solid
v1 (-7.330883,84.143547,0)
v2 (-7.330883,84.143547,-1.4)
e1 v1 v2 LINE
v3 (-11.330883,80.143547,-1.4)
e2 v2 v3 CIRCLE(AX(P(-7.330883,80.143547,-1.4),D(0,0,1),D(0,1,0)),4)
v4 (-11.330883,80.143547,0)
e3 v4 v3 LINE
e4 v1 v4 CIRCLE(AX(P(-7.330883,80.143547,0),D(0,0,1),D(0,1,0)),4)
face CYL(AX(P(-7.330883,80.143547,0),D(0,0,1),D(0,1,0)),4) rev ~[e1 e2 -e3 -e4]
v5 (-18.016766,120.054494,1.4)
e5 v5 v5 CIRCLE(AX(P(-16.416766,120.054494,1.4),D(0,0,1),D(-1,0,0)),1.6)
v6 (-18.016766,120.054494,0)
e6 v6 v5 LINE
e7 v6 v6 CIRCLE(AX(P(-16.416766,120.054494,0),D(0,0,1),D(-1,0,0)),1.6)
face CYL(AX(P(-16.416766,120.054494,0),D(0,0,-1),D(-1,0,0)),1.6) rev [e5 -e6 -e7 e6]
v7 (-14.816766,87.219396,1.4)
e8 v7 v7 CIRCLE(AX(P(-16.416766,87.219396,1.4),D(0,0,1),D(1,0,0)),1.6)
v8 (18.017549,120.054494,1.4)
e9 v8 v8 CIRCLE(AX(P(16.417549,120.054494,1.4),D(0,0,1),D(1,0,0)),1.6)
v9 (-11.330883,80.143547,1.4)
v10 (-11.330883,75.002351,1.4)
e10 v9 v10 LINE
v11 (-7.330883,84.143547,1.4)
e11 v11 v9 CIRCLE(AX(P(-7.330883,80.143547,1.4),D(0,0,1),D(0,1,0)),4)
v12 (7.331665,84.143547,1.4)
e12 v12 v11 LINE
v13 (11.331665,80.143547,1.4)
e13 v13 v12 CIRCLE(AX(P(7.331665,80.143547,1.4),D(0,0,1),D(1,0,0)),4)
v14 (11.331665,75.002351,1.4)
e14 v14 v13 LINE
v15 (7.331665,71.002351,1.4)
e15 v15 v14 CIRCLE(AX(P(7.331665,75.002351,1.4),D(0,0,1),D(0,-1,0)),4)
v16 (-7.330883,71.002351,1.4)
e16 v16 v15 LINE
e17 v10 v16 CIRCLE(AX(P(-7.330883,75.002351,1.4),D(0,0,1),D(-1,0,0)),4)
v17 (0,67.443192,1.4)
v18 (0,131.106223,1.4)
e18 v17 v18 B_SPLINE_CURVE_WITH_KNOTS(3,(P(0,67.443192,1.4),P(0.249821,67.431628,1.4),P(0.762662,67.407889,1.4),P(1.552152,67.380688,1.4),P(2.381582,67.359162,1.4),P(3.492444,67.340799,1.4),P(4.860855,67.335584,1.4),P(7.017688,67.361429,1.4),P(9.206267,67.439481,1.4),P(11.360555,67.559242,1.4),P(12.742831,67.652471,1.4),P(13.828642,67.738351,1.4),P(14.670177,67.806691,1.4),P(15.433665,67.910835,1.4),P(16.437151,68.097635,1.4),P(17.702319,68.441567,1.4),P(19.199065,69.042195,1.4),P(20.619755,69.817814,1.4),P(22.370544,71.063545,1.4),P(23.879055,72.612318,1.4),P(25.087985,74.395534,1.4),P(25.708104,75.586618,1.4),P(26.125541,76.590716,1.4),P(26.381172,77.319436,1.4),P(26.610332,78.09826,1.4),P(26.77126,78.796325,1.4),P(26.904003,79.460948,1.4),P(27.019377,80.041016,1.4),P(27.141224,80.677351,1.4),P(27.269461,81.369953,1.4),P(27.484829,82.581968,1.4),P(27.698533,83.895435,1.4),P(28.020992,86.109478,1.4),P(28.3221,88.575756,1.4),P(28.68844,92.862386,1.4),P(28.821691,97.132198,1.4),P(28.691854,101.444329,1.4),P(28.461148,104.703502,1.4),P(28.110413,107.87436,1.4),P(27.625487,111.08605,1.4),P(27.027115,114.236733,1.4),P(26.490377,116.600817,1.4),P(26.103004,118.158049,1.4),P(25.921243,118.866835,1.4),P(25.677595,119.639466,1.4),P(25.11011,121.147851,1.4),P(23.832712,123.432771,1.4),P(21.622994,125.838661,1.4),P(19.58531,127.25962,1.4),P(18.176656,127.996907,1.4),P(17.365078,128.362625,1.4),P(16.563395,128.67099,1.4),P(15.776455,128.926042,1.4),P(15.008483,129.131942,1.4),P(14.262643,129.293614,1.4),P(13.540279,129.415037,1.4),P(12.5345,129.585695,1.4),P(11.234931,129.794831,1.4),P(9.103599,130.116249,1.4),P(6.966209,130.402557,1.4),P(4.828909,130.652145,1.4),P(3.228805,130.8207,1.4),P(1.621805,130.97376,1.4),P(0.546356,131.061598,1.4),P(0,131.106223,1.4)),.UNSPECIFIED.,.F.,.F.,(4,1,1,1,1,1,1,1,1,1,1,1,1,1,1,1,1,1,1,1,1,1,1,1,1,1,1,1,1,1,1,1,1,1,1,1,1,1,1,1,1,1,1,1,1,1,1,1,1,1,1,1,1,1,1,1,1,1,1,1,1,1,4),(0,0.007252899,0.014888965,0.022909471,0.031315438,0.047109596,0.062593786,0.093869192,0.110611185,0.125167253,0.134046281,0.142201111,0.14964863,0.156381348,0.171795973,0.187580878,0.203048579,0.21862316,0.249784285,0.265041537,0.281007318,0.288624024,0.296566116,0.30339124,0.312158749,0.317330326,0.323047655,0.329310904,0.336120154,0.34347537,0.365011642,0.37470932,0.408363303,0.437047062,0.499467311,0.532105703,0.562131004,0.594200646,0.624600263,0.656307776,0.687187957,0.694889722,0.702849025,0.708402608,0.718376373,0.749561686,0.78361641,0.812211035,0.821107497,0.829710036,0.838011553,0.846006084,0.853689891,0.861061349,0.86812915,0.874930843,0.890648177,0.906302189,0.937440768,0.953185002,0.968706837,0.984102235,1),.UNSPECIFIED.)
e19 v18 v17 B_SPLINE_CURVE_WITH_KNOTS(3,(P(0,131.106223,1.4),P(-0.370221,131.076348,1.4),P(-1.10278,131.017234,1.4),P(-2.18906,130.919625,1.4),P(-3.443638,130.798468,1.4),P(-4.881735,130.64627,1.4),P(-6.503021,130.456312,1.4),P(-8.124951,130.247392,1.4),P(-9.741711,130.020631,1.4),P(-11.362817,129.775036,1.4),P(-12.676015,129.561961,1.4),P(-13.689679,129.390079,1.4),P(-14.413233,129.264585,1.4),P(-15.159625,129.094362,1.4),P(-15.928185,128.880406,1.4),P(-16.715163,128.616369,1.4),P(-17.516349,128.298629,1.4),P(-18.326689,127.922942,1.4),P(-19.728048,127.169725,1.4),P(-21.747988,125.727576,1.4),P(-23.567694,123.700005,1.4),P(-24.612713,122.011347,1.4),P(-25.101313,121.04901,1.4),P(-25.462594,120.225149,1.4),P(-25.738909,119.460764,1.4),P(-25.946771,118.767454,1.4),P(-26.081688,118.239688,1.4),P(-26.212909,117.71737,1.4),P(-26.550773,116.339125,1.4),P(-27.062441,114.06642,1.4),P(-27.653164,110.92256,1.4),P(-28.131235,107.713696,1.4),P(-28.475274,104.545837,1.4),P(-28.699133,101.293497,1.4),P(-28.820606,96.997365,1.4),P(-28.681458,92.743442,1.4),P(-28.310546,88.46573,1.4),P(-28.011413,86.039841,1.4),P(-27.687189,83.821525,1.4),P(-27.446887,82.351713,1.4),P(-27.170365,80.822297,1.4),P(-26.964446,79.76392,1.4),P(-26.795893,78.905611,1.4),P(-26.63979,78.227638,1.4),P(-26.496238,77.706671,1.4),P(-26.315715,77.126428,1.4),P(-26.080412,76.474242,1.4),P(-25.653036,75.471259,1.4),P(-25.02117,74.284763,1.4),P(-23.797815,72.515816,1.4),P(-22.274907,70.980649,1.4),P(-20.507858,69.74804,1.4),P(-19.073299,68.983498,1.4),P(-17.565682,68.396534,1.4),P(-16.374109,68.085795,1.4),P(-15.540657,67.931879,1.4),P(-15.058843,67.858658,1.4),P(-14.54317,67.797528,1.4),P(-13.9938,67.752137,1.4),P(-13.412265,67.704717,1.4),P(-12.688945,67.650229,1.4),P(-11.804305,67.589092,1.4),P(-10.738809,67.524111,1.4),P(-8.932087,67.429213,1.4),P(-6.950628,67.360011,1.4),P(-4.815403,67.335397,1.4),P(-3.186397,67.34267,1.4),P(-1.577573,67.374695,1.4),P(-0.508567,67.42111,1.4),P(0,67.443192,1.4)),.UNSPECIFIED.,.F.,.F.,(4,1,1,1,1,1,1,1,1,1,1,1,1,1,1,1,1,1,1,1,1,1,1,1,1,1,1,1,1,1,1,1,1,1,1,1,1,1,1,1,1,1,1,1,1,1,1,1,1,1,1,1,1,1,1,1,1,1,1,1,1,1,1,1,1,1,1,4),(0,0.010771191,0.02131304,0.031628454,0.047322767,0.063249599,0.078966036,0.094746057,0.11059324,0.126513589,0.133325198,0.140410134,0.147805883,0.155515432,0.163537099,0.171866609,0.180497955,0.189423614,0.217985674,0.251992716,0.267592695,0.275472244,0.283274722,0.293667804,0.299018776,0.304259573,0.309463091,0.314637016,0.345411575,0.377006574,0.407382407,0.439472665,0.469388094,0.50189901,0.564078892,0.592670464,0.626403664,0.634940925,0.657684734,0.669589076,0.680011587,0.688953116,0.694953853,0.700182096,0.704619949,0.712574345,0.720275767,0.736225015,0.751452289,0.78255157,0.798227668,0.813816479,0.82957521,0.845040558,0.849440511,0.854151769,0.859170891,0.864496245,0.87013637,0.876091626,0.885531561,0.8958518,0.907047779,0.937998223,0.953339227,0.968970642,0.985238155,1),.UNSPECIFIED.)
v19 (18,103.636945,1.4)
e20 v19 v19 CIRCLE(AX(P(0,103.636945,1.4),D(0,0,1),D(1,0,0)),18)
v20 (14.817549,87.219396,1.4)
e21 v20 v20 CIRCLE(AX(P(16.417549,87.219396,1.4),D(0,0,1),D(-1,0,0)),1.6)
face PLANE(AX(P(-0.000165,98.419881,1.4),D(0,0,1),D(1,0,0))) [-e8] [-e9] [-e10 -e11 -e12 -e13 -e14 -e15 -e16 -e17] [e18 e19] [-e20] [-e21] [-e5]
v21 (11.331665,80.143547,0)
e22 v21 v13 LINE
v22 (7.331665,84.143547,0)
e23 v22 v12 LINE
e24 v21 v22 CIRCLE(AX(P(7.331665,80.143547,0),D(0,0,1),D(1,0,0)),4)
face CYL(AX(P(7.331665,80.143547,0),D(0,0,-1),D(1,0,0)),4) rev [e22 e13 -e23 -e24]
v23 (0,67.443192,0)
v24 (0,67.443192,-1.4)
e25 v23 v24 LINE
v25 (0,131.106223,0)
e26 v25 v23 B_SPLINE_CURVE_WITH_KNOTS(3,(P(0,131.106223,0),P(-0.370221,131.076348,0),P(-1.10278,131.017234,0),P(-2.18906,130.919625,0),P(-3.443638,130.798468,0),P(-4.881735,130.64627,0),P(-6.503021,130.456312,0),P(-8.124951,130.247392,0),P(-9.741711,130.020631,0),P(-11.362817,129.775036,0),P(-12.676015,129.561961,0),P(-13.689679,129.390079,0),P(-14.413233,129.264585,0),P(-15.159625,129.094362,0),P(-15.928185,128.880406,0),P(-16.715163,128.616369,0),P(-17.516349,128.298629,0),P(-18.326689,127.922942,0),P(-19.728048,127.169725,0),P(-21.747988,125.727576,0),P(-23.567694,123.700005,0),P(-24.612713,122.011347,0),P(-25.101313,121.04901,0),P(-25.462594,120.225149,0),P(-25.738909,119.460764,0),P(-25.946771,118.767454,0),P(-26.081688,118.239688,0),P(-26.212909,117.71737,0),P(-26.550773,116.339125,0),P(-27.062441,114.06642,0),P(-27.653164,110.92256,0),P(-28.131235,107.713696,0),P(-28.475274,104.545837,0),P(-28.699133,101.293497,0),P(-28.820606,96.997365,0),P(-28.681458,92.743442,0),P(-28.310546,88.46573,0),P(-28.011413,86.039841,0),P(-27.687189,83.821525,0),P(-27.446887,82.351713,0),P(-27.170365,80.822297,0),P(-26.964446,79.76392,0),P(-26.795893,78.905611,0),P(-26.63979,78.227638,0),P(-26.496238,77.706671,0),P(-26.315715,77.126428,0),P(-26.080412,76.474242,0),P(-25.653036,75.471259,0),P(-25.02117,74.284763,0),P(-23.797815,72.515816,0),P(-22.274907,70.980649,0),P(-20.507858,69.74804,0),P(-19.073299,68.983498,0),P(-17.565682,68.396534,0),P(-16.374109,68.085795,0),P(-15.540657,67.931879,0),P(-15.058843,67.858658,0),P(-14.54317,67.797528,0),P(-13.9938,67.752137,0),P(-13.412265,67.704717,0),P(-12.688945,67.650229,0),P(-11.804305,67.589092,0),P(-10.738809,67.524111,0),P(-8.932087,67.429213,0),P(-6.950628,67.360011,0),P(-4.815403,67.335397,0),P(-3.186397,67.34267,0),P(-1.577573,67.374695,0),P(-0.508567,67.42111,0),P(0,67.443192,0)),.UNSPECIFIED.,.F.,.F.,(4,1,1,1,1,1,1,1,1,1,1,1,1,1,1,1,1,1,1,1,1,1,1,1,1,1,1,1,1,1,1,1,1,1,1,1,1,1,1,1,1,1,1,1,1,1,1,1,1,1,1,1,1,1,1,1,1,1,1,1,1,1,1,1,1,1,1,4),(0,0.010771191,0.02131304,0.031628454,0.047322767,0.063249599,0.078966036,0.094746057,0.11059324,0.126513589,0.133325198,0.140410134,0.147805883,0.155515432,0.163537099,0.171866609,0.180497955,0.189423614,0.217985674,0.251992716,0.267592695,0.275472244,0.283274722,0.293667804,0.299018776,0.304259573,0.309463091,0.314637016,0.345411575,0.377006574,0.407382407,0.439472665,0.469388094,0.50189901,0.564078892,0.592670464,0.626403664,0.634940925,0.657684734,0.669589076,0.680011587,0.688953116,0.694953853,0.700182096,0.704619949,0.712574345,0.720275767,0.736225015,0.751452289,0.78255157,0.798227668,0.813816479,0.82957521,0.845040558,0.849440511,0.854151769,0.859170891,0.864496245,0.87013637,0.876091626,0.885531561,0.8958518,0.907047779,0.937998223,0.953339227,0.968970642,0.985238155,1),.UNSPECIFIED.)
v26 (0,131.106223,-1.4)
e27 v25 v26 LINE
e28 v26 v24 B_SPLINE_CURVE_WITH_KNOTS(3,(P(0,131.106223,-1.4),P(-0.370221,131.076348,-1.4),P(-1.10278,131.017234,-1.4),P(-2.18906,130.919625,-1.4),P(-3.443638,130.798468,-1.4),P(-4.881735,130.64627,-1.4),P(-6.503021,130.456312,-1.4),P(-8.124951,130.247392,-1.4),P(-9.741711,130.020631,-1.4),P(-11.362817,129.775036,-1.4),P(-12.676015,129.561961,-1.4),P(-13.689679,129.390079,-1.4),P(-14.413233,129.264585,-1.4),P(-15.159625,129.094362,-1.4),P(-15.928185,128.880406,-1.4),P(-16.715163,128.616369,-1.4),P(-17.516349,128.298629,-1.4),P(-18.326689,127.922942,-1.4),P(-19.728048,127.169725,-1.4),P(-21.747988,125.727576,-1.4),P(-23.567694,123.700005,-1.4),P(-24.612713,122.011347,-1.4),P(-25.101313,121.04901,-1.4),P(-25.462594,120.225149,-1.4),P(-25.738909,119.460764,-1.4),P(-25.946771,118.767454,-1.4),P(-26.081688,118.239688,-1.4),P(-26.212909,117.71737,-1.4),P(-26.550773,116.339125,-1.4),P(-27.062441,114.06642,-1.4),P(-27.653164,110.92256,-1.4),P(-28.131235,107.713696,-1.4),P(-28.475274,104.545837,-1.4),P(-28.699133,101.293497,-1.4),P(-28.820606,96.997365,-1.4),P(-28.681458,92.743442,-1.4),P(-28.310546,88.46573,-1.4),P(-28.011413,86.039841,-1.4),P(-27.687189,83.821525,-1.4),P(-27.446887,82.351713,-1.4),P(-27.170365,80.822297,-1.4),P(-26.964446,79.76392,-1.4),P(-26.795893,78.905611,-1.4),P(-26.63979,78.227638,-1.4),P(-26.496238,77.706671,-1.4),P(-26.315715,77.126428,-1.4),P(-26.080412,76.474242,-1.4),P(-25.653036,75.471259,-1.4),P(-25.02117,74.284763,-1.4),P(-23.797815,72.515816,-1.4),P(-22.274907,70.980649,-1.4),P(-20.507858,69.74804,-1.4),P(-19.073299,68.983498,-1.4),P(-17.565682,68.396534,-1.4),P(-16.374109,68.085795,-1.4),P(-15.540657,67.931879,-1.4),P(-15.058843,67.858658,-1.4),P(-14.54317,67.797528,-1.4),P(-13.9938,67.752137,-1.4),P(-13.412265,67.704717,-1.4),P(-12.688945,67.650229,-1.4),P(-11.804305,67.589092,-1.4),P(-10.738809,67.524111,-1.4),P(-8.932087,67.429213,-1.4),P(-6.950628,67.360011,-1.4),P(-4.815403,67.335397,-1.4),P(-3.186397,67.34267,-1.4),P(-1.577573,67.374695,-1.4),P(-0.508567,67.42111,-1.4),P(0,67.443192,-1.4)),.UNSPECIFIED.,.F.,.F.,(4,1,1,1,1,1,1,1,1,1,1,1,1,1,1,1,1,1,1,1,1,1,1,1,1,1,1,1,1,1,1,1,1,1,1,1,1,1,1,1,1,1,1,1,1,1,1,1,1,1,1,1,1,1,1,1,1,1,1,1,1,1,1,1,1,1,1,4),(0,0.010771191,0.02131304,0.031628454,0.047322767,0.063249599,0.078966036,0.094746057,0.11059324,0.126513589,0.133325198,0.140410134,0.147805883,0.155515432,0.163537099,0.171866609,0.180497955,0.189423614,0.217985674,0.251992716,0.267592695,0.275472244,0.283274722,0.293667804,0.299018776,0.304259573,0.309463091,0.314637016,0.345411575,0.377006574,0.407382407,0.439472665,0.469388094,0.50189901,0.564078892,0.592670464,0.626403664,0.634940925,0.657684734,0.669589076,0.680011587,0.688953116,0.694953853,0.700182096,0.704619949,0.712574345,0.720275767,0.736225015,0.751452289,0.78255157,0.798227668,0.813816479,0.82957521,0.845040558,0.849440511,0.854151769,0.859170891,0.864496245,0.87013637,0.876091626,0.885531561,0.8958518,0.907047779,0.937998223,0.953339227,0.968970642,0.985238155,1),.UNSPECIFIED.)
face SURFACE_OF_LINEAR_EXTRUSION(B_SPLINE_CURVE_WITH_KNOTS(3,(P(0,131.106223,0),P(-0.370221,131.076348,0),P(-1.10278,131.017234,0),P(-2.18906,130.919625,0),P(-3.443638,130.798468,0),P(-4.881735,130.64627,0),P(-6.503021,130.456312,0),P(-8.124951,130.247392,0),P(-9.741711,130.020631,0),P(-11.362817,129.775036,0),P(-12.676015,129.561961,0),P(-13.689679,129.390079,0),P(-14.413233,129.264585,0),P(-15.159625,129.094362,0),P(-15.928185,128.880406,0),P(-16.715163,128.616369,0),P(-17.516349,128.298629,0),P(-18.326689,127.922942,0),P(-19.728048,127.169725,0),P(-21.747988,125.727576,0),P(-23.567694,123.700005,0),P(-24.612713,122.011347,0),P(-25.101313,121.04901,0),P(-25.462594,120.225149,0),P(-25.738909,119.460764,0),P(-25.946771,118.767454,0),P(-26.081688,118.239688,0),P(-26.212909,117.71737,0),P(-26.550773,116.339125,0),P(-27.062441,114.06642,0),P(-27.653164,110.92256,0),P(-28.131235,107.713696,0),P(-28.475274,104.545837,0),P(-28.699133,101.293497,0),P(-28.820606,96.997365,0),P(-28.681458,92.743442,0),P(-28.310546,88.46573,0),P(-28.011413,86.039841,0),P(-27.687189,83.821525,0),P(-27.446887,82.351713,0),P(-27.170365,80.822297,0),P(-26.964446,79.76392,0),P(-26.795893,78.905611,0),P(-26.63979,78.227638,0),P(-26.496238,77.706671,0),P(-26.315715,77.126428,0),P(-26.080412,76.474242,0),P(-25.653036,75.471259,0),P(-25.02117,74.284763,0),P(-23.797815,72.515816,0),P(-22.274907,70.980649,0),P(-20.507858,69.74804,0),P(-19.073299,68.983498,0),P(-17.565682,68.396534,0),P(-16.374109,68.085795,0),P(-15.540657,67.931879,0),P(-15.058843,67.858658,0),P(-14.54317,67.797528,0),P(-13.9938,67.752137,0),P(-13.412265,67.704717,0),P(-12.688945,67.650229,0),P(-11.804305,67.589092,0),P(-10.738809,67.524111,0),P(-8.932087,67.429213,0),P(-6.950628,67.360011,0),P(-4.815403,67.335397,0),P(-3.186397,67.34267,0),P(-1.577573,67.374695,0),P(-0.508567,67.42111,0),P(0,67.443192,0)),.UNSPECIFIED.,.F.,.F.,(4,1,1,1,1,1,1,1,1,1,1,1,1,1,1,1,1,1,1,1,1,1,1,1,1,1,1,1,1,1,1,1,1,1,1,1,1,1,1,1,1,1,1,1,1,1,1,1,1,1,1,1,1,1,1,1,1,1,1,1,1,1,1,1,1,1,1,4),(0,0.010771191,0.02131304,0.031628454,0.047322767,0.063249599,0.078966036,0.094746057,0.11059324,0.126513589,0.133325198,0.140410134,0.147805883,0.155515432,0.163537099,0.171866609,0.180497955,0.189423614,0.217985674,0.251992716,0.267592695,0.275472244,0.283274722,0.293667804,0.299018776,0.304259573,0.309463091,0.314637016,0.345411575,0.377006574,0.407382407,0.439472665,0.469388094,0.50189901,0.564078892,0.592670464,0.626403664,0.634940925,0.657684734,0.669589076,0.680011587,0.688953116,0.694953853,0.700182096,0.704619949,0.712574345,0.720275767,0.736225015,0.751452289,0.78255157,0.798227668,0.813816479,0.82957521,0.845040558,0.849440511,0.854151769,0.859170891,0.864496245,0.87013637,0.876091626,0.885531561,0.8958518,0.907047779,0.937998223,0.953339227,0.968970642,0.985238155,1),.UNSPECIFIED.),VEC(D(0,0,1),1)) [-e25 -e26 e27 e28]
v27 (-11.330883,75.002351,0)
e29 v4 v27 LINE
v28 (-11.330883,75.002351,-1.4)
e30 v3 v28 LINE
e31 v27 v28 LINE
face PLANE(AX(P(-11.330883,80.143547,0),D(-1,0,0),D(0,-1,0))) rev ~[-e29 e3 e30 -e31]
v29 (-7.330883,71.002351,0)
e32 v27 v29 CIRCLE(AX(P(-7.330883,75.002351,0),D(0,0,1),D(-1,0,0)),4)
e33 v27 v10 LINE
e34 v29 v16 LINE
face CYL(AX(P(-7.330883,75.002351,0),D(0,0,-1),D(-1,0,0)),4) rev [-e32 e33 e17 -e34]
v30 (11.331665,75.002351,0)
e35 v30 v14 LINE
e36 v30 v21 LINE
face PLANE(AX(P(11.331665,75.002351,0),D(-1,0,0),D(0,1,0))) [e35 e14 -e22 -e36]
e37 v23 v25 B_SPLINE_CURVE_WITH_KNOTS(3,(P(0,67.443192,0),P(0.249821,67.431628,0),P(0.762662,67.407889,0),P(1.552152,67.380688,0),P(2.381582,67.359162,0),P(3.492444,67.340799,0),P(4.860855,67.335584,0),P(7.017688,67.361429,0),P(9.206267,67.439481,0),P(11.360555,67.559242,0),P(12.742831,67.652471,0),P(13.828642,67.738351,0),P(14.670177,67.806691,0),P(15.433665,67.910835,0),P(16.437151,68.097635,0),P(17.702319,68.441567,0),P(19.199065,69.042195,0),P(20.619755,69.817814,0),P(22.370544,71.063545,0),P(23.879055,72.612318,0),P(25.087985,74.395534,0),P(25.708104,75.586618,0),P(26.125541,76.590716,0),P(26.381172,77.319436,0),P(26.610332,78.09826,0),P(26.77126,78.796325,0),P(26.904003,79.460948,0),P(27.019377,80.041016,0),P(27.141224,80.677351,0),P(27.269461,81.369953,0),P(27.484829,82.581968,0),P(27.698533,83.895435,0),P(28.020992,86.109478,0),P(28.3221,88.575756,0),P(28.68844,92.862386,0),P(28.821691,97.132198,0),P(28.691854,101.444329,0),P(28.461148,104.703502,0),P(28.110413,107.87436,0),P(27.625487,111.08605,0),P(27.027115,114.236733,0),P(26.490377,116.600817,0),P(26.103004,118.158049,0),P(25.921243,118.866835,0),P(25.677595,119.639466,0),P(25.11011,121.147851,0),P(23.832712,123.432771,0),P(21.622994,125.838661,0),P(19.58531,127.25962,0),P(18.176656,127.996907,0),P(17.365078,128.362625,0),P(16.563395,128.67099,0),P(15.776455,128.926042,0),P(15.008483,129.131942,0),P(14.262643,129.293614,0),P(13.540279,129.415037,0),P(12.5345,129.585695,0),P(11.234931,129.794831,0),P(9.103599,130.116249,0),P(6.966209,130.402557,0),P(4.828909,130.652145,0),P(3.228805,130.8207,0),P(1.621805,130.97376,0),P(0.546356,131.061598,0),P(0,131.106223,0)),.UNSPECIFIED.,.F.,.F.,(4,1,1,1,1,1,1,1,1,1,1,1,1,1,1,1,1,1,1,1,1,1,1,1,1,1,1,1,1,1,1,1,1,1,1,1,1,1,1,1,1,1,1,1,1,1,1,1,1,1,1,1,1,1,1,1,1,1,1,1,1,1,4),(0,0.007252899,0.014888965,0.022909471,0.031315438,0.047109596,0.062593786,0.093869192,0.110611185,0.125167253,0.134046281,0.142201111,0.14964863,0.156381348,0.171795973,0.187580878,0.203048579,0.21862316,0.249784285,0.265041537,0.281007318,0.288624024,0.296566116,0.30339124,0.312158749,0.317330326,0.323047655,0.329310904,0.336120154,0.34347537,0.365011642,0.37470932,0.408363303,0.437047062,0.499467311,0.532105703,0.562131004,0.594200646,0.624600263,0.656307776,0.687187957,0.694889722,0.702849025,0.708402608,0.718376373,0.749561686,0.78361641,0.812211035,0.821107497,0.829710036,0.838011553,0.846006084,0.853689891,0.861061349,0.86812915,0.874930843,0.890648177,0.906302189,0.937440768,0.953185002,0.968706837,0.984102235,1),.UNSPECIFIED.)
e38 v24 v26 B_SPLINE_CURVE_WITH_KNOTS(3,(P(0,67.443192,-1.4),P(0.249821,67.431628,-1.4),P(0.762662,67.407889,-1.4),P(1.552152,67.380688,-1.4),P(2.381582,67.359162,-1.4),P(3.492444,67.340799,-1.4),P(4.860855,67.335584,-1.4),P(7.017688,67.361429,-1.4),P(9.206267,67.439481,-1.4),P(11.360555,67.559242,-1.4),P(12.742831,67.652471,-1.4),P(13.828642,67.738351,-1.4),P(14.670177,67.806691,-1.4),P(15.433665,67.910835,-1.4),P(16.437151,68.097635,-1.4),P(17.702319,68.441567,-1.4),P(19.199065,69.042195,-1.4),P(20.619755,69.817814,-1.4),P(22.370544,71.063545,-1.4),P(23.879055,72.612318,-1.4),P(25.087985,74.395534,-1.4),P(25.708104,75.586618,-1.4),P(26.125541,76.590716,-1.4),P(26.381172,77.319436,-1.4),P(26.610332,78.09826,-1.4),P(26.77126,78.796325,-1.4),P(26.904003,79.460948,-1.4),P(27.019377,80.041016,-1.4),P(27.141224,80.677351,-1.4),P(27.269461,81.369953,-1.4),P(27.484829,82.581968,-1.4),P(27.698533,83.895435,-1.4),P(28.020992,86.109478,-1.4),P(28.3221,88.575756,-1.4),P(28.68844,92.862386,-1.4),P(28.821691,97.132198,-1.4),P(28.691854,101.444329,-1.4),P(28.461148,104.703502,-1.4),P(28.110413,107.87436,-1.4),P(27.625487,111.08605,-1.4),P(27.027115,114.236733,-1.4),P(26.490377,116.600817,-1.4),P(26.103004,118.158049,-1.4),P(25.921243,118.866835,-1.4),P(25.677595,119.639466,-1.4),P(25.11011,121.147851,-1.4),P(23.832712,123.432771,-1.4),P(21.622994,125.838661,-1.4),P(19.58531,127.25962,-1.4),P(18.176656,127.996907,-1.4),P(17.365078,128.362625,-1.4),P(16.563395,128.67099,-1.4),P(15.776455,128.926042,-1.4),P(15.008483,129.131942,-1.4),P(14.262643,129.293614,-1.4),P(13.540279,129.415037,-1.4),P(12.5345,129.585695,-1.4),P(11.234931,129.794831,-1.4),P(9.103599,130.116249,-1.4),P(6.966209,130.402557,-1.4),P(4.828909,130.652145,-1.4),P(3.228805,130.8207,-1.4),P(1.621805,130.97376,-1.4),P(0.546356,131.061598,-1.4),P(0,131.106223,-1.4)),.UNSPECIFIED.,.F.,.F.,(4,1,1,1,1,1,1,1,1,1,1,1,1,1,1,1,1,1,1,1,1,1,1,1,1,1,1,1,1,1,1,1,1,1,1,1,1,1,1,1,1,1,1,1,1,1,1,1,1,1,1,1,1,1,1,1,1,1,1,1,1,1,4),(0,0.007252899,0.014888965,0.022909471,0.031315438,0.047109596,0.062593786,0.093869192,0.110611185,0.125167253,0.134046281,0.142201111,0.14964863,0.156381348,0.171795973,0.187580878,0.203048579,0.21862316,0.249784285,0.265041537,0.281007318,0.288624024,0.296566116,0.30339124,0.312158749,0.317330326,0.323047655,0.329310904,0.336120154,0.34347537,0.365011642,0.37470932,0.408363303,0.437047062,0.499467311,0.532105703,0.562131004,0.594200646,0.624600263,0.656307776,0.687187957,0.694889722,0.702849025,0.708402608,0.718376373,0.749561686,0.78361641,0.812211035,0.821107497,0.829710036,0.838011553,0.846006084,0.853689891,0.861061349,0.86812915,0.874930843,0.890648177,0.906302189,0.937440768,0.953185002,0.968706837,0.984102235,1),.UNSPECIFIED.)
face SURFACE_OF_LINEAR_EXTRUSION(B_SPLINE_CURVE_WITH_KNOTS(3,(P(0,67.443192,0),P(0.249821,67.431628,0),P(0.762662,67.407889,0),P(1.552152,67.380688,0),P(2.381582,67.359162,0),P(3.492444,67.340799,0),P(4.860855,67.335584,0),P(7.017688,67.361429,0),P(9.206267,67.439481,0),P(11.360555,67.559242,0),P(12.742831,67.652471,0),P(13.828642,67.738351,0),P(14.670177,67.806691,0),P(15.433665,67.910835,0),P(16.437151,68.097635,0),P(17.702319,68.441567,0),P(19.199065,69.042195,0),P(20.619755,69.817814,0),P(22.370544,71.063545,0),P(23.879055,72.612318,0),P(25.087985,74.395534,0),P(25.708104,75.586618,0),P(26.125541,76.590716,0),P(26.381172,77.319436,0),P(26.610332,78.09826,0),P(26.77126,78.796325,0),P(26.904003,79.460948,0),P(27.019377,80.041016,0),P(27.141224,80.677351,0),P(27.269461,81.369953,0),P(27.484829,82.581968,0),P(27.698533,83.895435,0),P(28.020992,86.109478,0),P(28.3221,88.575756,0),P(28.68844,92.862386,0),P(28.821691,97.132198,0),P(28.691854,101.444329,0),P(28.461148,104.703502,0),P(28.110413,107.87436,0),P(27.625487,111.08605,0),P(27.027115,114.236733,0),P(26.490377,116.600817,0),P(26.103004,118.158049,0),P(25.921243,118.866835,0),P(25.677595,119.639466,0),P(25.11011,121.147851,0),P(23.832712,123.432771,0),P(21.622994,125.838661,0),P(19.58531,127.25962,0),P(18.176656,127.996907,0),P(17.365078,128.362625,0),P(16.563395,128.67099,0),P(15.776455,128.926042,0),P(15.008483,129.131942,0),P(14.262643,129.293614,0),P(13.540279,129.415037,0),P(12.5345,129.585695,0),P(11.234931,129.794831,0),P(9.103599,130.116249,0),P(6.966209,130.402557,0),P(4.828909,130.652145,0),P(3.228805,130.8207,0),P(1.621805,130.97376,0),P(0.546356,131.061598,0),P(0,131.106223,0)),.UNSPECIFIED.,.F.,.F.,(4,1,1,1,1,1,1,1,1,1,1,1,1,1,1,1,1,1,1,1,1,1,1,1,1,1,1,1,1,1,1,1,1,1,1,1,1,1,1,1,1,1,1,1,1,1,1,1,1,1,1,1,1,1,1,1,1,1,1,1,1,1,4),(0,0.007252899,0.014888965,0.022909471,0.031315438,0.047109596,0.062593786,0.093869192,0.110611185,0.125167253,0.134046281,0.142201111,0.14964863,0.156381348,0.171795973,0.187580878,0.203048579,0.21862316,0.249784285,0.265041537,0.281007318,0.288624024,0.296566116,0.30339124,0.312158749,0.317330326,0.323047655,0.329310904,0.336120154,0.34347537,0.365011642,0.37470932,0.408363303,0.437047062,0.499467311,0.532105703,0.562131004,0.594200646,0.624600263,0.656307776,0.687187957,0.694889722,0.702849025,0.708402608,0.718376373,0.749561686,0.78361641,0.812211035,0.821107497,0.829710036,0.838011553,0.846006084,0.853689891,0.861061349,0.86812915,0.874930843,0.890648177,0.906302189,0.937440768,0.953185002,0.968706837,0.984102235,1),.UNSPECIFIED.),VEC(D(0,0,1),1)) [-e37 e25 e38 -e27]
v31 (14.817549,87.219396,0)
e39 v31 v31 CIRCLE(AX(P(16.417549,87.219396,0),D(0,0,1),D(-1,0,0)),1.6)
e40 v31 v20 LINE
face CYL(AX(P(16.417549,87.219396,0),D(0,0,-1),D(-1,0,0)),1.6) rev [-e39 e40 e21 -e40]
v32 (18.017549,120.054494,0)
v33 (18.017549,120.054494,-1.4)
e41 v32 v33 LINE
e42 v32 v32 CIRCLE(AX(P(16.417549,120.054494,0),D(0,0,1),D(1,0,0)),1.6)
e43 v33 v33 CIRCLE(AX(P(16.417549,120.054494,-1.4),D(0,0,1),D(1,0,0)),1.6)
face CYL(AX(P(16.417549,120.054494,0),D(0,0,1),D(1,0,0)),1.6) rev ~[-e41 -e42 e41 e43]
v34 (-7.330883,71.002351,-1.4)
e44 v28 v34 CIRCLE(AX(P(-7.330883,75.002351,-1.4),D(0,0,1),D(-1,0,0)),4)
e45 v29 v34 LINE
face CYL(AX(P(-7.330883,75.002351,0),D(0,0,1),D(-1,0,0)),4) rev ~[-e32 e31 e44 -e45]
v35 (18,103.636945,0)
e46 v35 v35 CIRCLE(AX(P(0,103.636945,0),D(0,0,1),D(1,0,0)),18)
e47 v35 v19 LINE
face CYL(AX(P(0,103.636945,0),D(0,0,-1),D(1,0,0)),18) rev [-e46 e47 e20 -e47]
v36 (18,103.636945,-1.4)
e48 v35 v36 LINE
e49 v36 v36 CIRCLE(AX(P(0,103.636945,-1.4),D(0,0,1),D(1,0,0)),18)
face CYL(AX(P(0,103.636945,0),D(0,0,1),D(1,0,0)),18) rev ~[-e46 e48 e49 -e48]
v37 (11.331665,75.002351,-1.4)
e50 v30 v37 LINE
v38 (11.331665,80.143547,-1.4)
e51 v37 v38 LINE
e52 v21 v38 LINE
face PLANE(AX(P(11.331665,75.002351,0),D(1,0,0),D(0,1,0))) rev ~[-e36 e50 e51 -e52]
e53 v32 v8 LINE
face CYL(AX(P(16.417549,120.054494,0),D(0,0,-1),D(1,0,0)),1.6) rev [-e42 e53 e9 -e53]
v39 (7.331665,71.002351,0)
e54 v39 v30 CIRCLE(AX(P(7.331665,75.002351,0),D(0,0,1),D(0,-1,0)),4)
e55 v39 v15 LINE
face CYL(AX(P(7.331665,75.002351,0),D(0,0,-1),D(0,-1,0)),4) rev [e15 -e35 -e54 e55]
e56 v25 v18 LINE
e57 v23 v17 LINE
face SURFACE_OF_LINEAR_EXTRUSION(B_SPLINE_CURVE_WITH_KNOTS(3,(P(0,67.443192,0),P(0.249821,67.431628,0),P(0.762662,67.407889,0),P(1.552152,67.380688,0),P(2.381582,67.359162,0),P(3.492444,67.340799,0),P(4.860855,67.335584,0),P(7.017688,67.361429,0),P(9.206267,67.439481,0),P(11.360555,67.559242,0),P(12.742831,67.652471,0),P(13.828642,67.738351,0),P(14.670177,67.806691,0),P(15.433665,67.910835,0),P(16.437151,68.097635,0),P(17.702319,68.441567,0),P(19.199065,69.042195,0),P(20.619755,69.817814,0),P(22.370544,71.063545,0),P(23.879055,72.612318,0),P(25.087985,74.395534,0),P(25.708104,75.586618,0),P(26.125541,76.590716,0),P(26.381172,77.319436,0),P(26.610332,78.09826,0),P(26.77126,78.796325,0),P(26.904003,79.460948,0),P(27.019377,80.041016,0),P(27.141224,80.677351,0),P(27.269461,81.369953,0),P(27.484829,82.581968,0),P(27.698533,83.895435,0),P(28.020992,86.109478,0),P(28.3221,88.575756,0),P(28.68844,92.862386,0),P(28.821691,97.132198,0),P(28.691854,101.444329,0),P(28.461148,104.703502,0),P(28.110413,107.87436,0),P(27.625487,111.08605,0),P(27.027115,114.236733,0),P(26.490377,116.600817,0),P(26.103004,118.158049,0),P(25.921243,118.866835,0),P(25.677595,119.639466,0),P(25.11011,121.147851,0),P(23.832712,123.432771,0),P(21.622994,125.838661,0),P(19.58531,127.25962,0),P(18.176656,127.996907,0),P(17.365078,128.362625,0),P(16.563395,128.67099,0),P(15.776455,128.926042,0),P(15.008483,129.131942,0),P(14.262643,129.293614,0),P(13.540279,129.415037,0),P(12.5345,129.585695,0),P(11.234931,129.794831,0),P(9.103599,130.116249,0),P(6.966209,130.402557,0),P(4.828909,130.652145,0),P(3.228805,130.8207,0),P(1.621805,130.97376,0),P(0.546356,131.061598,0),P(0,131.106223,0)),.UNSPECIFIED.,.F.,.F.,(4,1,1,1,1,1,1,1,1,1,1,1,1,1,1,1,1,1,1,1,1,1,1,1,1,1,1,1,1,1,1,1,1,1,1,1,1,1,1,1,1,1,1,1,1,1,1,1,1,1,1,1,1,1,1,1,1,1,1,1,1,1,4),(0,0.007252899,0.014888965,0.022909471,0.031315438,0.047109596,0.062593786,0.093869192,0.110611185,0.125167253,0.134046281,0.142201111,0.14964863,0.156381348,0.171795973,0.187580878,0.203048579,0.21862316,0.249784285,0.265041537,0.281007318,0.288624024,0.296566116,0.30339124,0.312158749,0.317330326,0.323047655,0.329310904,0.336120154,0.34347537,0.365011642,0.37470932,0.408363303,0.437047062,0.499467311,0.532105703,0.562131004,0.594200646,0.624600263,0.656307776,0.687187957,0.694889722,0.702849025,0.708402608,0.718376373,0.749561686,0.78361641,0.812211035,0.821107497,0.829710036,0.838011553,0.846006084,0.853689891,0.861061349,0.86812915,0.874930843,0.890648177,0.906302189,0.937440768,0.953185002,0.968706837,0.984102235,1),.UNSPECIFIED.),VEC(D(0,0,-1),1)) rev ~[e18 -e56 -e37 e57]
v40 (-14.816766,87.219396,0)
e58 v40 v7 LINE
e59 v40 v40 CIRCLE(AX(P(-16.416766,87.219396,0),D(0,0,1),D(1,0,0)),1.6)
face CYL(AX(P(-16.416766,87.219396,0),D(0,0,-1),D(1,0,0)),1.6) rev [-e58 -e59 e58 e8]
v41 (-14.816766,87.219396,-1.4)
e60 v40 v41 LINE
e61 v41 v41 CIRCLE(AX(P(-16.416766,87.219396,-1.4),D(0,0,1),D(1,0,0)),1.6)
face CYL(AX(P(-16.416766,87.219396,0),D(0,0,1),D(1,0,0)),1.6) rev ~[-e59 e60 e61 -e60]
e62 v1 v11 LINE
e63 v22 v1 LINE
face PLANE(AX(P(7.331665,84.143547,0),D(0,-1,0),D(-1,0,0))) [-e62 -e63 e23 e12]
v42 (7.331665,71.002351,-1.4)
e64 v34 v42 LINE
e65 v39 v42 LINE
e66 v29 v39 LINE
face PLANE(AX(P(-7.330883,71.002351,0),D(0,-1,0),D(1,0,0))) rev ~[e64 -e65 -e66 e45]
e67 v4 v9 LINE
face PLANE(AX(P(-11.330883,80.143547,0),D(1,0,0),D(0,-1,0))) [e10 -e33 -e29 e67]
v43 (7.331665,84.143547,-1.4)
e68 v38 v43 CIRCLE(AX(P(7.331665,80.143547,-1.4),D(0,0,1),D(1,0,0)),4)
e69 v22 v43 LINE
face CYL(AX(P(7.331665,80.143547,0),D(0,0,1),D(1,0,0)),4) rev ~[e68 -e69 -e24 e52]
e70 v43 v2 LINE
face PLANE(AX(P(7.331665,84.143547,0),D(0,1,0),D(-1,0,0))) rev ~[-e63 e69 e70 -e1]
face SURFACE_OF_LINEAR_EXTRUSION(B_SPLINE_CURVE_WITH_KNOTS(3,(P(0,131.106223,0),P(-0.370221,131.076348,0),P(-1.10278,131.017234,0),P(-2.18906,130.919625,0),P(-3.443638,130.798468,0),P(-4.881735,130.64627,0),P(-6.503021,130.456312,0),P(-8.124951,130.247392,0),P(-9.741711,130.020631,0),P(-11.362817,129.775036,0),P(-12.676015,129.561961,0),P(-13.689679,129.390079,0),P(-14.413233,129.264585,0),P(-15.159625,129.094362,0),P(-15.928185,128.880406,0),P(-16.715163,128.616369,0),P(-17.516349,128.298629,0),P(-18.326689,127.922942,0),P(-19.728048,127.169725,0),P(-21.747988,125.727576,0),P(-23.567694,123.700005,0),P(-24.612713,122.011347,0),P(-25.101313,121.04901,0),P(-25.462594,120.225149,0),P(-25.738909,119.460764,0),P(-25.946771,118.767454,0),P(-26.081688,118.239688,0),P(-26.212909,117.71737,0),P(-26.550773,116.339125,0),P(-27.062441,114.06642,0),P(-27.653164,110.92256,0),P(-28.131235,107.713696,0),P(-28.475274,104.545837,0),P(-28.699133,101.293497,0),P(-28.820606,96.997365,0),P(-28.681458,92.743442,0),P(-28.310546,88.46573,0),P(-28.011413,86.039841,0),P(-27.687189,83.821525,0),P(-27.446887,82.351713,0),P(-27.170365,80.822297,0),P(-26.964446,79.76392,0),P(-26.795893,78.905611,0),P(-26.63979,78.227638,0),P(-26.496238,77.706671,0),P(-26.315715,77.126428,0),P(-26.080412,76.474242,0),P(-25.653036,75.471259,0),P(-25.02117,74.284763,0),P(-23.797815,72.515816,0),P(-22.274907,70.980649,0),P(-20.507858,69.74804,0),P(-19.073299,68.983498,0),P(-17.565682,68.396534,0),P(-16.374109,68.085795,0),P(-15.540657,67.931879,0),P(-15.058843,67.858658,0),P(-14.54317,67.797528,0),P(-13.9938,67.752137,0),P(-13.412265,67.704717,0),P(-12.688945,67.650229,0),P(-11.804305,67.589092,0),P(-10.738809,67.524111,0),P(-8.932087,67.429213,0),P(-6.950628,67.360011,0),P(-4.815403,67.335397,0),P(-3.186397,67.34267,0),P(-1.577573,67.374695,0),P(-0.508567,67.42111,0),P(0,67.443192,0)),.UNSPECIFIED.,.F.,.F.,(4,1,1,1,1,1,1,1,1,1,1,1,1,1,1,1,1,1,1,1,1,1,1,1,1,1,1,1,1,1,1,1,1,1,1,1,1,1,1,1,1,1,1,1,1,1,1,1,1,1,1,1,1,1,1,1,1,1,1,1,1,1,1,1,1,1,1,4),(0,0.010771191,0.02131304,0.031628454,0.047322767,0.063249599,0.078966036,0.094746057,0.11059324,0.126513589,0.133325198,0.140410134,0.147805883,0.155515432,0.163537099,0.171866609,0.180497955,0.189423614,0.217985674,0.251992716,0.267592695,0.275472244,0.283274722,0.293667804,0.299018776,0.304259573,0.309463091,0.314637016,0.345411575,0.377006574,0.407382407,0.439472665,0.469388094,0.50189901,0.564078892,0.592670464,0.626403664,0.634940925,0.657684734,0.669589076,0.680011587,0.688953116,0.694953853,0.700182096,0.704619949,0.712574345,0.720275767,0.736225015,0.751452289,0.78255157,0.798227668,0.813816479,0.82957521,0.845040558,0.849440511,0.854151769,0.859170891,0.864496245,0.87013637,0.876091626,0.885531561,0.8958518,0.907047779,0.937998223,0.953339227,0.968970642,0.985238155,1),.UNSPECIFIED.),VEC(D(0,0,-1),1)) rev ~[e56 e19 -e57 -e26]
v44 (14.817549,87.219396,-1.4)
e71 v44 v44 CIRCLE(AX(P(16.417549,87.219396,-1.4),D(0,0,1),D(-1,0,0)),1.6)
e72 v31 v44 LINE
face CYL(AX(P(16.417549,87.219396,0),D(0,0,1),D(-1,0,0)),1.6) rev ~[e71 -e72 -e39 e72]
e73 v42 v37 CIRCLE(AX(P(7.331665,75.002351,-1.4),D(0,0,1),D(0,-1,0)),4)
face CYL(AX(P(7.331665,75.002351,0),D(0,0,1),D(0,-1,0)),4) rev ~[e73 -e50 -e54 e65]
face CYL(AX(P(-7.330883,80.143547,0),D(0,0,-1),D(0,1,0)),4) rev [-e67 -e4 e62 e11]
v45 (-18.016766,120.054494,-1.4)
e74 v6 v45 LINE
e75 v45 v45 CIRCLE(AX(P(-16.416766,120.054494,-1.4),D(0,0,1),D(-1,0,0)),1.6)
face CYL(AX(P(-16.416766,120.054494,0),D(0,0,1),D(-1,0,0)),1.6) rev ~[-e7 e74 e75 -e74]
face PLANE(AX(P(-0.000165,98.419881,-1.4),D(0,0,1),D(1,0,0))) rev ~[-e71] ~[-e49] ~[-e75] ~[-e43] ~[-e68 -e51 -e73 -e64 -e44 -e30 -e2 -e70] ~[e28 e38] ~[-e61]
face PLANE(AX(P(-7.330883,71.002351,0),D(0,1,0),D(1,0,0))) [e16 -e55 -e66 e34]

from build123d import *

# Parameters (mm, degrees)
SKETCH_1_R      = 1.6
SKETCH_1_R_2    = 18
EXTRUDE_1_DEPTH = 1.4


with BuildPart() as part:
    # Эскиз1 → Бобышка-Вытянуть1 (new, symmetric)
    with BuildSketch(Plane.XY):
        with BuildLine():
            add(Edge.make_bspline(
                [(0, 131.106222882), (-0.370220785, 131.076347993), (-1.102779578, 131.017234316), (-2.189060224, 130.919624595), (-3.443637711, 130.798467833), (-4.881735459, 130.646269922), (-6.503020503, 130.456312253), (-8.12495085, 130.247392322), (-9.741711108, 130.020630526), (-11.36281695, 129.775036484), (-12.676015392, 129.561961331), (-13.68967903, 129.390078582), (-14.413232864, 129.264584839), (-15.159625099, 129.094362093), (-15.928185443, 128.880405682), (-16.715163254, 128.616368934), (-17.516348702, 128.298628961), (-18.326688606, 127.922941878), (-19.728048414, 127.169724573), (-21.747987535, 125.727575964), (-23.567693799, 123.700004581), (-24.612712681, 122.011346521), (-25.101312847, 121.04901032), (-25.462593655, 120.225148914), (-25.738909462, 119.460763634), (-25.94677143, 118.767454031), (-26.081687876, 118.239687864), (-26.212908569, 117.717370422), (-26.550773375, 116.339124971), (-27.062440519, 114.066420204), (-27.653164131, 110.922560067), (-28.131235228, 107.713696234), (-28.475274231, 104.545836759), (-28.699132748, 101.293497056), (-28.820606115, 96.997365467), (-28.681457815, 92.743441744), (-28.310546102, 88.465729648), (-28.011412762, 86.039840672), (-27.687188607, 83.821524975), (-27.446887043, 82.351713486), (-27.170364704, 80.822297117), (-26.964445801, 79.763919621), (-26.795893016, 78.905610826), (-26.639789871, 78.227638137), (-26.496238435, 77.706670532), (-26.315714678, 77.126427714), (-26.080412167, 76.474242148), (-25.653035676, 75.47125893), (-25.021169521, 74.284763335), (-23.797814677, 72.515816398), (-22.274906789, 70.980648572), (-20.507858139, 69.748039699), (-19.073299489, 68.983497976), (-17.565682132, 68.396534243), (-16.374108839, 68.085794929), (-15.540656532, 67.931878814), (-15.058842612, 67.858658077), (-14.543170425, 67.797527545), (-13.993799753, 67.752137476), (-13.412264546, 67.704717217), (-12.688945313, 67.650229305), (-11.804304984, 67.589091763), (-10.73880925, 67.52411052), (-8.932087435, 67.42921281), (-6.950627599, 67.36001138), (-4.815403254, 67.335396808), (-3.186397421, 67.342670006), (-1.577573114, 67.374694658), (-0.508566905, 67.421110428), (0, 67.443192175)],
                knots=[0, 0, 0, 0, 0.010771191, 0.02131304, 0.031628454, 0.047322767, 0.063249599, 0.078966036, 0.094746057, 0.11059324, 0.126513589, 0.133325198, 0.140410134, 0.147805883, 0.155515432, 0.163537099, 0.171866609, 0.180497955, 0.189423614, 0.217985674, 0.251992716, 0.267592695, 0.275472244, 0.283274722, 0.293667804, 0.299018776, 0.304259573, 0.309463091, 0.314637016, 0.345411575, 0.377006574, 0.407382407, 0.439472665, 0.469388094, 0.50189901, 0.564078892, 0.592670464, 0.626403664, 0.634940925, 0.657684734, 0.669589076, 0.680011587, 0.688953116, 0.694953853, 0.700182096, 0.704619949, 0.712574345, 0.720275767, 0.736225015, 0.751452289, 0.78255157, 0.798227668, 0.813816479, 0.82957521, 0.845040558, 0.849440511, 0.854151769, 0.859170891, 0.864496245, 0.87013637, 0.876091626, 0.885531561, 0.8958518, 0.907047779, 0.937998223, 0.953339227, 0.968970642, 0.985238155, 1, 1, 1, 1], degree=3))
            add(Edge.make_bspline(
                [(0, 67.443192175), (0.249821364, 67.431628062), (0.762662013, 67.40788891), (1.552151885, 67.380688451), (2.38158192, 67.359162124), (3.492443713, 67.340799343), (4.860854811, 67.335584203), (7.017688253, 67.361429059), (9.206266825, 67.439481423), (11.360555129, 67.559242305), (12.742830846, 67.652471284), (13.828642073, 67.738350945), (14.670177097, 67.806690644), (15.433665488, 67.910835289), (16.43715099, 68.097635371), (17.7023193, 68.441566796), (19.19906457, 69.04219543), (20.619754867, 69.817813812), (22.370543972, 71.063544766), (23.879054895, 72.612317775), (25.087984722, 74.395533827), (25.708103716, 75.586617657), (26.125541169, 76.590715807), (26.381172043, 77.319435939), (26.610332418, 78.098259903), (26.771259587, 78.796324954), (26.904003327, 79.460947792), (27.019377268, 80.04101619), (27.141224488, 80.6773507), (27.269461333, 81.369952952), (27.48482909, 82.581967896), (27.69853251, 83.895434571), (28.020991969, 86.109477736), (28.322099842, 88.575755775), (28.688440492, 92.86238598), (28.82169129, 97.132197747), (28.691853506, 101.444329278), (28.461147635, 104.703501922), (28.11041252, 107.874360128), (27.625487332, 111.086050261), (27.027115418, 114.236733399), (26.490376549, 116.600816702), (26.103003987, 118.15804878), (25.921243346, 118.866835156), (25.677595437, 119.639466291), (25.110109967, 121.14785111), (23.832711812, 123.43277094), (21.622994104, 125.838661408), (19.585309988, 127.259620437), (18.176655717, 127.99690654), (17.365078488, 128.362625042), (16.563395265, 128.670990381), (15.776455467, 128.926042141), (15.008483475, 129.131941856), (14.262643492, 129.293613738), (13.540279292, 129.415036674), (12.534500053, 129.585694823), (11.23493113, 129.794831482), (9.103598592, 130.116248501), (6.966209264, 130.402556522), (4.828909424, 130.65214503), (3.228804537, 130.820700086), (1.621804658, 130.97375985), (0.54635647, 131.061598497), (0, 131.106222882)],
                knots=[0, 0, 0, 0, 0.007252899, 0.014888965, 0.022909471, 0.031315438, 0.047109596, 0.062593786, 0.093869192, 0.110611185, 0.125167253, 0.134046281, 0.142201111, 0.14964863, 0.156381348, 0.171795973, 0.187580878, 0.203048579, 0.21862316, 0.249784285, 0.265041537, 0.281007318, 0.288624024, 0.296566116, 0.30339124, 0.312158749, 0.317330326, 0.323047655, 0.329310904, 0.336120154, 0.34347537, 0.365011642, 0.37470932, 0.408363303, 0.437047062, 0.499467311, 0.532105703, 0.562131004, 0.594200646, 0.624600263, 0.656307776, 0.687187957, 0.694889722, 0.702849025, 0.708402608, 0.718376373, 0.749561686, 0.78361641, 0.812211035, 0.821107497, 0.829710036, 0.838011553, 0.846006084, 0.853689891, 0.861061349, 0.86812915, 0.874930843, 0.890648177, 0.906302189, 0.937440768, 0.953185002, 0.968706837, 0.984102235, 1, 1, 1, 1], degree=3))
        make_face()
        with Locations((16.417549031, 120.054494051)):
            Circle(SKETCH_1_R, mode=Mode.SUBTRACT)
        with Locations((0, 103.636945021)):
            Circle(SKETCH_1_R_2, mode=Mode.SUBTRACT)
        with Locations(Location((-16.416766384, 120.054494051, 0), (0, 0, 180))):
            Circle(SKETCH_1_R, mode=Mode.SUBTRACT)
        with Locations((-16.416766384, 87.21939599)):
            Circle(SKETCH_1_R, mode=Mode.SUBTRACT)
        with Locations(Location((16.417549031, 87.21939599, 0), (0, 0, 180))):
            Circle(SKETCH_1_R, mode=Mode.SUBTRACT)
        with BuildLine():
            Line((-7.330882536, 71.002350727), (7.331665183, 71.002350727))
            ThreePointArc((7.331665183, 71.002350727), (10.160092308, 72.173923602), (11.331665183, 75.002350727))
            Line((11.331665183, 75.002350727), (11.331665183, 80.143547066))
            ThreePointArc((11.331665183, 80.143547066), (10.160092308, 82.971974191), (7.331665183, 84.143547066))
            Line((7.331665183, 84.143547066), (-7.330882536, 84.143547066))
            ThreePointArc((-7.330882536, 84.143547066), (-10.15930966, 82.971974191), (-11.330882536, 80.143547066))
            Line((-11.330882536, 80.143547066), (-11.330882536, 75.002350727))
            ThreePointArc((-11.330882536, 75.002350727), (-10.15930966, 72.173923602), (-7.330882536, 71.002350727))
        make_face(mode=Mode.SUBTRACT)
    extrude(amount=EXTRUDE_1_DEPTH, both=True)


solid = part.part
